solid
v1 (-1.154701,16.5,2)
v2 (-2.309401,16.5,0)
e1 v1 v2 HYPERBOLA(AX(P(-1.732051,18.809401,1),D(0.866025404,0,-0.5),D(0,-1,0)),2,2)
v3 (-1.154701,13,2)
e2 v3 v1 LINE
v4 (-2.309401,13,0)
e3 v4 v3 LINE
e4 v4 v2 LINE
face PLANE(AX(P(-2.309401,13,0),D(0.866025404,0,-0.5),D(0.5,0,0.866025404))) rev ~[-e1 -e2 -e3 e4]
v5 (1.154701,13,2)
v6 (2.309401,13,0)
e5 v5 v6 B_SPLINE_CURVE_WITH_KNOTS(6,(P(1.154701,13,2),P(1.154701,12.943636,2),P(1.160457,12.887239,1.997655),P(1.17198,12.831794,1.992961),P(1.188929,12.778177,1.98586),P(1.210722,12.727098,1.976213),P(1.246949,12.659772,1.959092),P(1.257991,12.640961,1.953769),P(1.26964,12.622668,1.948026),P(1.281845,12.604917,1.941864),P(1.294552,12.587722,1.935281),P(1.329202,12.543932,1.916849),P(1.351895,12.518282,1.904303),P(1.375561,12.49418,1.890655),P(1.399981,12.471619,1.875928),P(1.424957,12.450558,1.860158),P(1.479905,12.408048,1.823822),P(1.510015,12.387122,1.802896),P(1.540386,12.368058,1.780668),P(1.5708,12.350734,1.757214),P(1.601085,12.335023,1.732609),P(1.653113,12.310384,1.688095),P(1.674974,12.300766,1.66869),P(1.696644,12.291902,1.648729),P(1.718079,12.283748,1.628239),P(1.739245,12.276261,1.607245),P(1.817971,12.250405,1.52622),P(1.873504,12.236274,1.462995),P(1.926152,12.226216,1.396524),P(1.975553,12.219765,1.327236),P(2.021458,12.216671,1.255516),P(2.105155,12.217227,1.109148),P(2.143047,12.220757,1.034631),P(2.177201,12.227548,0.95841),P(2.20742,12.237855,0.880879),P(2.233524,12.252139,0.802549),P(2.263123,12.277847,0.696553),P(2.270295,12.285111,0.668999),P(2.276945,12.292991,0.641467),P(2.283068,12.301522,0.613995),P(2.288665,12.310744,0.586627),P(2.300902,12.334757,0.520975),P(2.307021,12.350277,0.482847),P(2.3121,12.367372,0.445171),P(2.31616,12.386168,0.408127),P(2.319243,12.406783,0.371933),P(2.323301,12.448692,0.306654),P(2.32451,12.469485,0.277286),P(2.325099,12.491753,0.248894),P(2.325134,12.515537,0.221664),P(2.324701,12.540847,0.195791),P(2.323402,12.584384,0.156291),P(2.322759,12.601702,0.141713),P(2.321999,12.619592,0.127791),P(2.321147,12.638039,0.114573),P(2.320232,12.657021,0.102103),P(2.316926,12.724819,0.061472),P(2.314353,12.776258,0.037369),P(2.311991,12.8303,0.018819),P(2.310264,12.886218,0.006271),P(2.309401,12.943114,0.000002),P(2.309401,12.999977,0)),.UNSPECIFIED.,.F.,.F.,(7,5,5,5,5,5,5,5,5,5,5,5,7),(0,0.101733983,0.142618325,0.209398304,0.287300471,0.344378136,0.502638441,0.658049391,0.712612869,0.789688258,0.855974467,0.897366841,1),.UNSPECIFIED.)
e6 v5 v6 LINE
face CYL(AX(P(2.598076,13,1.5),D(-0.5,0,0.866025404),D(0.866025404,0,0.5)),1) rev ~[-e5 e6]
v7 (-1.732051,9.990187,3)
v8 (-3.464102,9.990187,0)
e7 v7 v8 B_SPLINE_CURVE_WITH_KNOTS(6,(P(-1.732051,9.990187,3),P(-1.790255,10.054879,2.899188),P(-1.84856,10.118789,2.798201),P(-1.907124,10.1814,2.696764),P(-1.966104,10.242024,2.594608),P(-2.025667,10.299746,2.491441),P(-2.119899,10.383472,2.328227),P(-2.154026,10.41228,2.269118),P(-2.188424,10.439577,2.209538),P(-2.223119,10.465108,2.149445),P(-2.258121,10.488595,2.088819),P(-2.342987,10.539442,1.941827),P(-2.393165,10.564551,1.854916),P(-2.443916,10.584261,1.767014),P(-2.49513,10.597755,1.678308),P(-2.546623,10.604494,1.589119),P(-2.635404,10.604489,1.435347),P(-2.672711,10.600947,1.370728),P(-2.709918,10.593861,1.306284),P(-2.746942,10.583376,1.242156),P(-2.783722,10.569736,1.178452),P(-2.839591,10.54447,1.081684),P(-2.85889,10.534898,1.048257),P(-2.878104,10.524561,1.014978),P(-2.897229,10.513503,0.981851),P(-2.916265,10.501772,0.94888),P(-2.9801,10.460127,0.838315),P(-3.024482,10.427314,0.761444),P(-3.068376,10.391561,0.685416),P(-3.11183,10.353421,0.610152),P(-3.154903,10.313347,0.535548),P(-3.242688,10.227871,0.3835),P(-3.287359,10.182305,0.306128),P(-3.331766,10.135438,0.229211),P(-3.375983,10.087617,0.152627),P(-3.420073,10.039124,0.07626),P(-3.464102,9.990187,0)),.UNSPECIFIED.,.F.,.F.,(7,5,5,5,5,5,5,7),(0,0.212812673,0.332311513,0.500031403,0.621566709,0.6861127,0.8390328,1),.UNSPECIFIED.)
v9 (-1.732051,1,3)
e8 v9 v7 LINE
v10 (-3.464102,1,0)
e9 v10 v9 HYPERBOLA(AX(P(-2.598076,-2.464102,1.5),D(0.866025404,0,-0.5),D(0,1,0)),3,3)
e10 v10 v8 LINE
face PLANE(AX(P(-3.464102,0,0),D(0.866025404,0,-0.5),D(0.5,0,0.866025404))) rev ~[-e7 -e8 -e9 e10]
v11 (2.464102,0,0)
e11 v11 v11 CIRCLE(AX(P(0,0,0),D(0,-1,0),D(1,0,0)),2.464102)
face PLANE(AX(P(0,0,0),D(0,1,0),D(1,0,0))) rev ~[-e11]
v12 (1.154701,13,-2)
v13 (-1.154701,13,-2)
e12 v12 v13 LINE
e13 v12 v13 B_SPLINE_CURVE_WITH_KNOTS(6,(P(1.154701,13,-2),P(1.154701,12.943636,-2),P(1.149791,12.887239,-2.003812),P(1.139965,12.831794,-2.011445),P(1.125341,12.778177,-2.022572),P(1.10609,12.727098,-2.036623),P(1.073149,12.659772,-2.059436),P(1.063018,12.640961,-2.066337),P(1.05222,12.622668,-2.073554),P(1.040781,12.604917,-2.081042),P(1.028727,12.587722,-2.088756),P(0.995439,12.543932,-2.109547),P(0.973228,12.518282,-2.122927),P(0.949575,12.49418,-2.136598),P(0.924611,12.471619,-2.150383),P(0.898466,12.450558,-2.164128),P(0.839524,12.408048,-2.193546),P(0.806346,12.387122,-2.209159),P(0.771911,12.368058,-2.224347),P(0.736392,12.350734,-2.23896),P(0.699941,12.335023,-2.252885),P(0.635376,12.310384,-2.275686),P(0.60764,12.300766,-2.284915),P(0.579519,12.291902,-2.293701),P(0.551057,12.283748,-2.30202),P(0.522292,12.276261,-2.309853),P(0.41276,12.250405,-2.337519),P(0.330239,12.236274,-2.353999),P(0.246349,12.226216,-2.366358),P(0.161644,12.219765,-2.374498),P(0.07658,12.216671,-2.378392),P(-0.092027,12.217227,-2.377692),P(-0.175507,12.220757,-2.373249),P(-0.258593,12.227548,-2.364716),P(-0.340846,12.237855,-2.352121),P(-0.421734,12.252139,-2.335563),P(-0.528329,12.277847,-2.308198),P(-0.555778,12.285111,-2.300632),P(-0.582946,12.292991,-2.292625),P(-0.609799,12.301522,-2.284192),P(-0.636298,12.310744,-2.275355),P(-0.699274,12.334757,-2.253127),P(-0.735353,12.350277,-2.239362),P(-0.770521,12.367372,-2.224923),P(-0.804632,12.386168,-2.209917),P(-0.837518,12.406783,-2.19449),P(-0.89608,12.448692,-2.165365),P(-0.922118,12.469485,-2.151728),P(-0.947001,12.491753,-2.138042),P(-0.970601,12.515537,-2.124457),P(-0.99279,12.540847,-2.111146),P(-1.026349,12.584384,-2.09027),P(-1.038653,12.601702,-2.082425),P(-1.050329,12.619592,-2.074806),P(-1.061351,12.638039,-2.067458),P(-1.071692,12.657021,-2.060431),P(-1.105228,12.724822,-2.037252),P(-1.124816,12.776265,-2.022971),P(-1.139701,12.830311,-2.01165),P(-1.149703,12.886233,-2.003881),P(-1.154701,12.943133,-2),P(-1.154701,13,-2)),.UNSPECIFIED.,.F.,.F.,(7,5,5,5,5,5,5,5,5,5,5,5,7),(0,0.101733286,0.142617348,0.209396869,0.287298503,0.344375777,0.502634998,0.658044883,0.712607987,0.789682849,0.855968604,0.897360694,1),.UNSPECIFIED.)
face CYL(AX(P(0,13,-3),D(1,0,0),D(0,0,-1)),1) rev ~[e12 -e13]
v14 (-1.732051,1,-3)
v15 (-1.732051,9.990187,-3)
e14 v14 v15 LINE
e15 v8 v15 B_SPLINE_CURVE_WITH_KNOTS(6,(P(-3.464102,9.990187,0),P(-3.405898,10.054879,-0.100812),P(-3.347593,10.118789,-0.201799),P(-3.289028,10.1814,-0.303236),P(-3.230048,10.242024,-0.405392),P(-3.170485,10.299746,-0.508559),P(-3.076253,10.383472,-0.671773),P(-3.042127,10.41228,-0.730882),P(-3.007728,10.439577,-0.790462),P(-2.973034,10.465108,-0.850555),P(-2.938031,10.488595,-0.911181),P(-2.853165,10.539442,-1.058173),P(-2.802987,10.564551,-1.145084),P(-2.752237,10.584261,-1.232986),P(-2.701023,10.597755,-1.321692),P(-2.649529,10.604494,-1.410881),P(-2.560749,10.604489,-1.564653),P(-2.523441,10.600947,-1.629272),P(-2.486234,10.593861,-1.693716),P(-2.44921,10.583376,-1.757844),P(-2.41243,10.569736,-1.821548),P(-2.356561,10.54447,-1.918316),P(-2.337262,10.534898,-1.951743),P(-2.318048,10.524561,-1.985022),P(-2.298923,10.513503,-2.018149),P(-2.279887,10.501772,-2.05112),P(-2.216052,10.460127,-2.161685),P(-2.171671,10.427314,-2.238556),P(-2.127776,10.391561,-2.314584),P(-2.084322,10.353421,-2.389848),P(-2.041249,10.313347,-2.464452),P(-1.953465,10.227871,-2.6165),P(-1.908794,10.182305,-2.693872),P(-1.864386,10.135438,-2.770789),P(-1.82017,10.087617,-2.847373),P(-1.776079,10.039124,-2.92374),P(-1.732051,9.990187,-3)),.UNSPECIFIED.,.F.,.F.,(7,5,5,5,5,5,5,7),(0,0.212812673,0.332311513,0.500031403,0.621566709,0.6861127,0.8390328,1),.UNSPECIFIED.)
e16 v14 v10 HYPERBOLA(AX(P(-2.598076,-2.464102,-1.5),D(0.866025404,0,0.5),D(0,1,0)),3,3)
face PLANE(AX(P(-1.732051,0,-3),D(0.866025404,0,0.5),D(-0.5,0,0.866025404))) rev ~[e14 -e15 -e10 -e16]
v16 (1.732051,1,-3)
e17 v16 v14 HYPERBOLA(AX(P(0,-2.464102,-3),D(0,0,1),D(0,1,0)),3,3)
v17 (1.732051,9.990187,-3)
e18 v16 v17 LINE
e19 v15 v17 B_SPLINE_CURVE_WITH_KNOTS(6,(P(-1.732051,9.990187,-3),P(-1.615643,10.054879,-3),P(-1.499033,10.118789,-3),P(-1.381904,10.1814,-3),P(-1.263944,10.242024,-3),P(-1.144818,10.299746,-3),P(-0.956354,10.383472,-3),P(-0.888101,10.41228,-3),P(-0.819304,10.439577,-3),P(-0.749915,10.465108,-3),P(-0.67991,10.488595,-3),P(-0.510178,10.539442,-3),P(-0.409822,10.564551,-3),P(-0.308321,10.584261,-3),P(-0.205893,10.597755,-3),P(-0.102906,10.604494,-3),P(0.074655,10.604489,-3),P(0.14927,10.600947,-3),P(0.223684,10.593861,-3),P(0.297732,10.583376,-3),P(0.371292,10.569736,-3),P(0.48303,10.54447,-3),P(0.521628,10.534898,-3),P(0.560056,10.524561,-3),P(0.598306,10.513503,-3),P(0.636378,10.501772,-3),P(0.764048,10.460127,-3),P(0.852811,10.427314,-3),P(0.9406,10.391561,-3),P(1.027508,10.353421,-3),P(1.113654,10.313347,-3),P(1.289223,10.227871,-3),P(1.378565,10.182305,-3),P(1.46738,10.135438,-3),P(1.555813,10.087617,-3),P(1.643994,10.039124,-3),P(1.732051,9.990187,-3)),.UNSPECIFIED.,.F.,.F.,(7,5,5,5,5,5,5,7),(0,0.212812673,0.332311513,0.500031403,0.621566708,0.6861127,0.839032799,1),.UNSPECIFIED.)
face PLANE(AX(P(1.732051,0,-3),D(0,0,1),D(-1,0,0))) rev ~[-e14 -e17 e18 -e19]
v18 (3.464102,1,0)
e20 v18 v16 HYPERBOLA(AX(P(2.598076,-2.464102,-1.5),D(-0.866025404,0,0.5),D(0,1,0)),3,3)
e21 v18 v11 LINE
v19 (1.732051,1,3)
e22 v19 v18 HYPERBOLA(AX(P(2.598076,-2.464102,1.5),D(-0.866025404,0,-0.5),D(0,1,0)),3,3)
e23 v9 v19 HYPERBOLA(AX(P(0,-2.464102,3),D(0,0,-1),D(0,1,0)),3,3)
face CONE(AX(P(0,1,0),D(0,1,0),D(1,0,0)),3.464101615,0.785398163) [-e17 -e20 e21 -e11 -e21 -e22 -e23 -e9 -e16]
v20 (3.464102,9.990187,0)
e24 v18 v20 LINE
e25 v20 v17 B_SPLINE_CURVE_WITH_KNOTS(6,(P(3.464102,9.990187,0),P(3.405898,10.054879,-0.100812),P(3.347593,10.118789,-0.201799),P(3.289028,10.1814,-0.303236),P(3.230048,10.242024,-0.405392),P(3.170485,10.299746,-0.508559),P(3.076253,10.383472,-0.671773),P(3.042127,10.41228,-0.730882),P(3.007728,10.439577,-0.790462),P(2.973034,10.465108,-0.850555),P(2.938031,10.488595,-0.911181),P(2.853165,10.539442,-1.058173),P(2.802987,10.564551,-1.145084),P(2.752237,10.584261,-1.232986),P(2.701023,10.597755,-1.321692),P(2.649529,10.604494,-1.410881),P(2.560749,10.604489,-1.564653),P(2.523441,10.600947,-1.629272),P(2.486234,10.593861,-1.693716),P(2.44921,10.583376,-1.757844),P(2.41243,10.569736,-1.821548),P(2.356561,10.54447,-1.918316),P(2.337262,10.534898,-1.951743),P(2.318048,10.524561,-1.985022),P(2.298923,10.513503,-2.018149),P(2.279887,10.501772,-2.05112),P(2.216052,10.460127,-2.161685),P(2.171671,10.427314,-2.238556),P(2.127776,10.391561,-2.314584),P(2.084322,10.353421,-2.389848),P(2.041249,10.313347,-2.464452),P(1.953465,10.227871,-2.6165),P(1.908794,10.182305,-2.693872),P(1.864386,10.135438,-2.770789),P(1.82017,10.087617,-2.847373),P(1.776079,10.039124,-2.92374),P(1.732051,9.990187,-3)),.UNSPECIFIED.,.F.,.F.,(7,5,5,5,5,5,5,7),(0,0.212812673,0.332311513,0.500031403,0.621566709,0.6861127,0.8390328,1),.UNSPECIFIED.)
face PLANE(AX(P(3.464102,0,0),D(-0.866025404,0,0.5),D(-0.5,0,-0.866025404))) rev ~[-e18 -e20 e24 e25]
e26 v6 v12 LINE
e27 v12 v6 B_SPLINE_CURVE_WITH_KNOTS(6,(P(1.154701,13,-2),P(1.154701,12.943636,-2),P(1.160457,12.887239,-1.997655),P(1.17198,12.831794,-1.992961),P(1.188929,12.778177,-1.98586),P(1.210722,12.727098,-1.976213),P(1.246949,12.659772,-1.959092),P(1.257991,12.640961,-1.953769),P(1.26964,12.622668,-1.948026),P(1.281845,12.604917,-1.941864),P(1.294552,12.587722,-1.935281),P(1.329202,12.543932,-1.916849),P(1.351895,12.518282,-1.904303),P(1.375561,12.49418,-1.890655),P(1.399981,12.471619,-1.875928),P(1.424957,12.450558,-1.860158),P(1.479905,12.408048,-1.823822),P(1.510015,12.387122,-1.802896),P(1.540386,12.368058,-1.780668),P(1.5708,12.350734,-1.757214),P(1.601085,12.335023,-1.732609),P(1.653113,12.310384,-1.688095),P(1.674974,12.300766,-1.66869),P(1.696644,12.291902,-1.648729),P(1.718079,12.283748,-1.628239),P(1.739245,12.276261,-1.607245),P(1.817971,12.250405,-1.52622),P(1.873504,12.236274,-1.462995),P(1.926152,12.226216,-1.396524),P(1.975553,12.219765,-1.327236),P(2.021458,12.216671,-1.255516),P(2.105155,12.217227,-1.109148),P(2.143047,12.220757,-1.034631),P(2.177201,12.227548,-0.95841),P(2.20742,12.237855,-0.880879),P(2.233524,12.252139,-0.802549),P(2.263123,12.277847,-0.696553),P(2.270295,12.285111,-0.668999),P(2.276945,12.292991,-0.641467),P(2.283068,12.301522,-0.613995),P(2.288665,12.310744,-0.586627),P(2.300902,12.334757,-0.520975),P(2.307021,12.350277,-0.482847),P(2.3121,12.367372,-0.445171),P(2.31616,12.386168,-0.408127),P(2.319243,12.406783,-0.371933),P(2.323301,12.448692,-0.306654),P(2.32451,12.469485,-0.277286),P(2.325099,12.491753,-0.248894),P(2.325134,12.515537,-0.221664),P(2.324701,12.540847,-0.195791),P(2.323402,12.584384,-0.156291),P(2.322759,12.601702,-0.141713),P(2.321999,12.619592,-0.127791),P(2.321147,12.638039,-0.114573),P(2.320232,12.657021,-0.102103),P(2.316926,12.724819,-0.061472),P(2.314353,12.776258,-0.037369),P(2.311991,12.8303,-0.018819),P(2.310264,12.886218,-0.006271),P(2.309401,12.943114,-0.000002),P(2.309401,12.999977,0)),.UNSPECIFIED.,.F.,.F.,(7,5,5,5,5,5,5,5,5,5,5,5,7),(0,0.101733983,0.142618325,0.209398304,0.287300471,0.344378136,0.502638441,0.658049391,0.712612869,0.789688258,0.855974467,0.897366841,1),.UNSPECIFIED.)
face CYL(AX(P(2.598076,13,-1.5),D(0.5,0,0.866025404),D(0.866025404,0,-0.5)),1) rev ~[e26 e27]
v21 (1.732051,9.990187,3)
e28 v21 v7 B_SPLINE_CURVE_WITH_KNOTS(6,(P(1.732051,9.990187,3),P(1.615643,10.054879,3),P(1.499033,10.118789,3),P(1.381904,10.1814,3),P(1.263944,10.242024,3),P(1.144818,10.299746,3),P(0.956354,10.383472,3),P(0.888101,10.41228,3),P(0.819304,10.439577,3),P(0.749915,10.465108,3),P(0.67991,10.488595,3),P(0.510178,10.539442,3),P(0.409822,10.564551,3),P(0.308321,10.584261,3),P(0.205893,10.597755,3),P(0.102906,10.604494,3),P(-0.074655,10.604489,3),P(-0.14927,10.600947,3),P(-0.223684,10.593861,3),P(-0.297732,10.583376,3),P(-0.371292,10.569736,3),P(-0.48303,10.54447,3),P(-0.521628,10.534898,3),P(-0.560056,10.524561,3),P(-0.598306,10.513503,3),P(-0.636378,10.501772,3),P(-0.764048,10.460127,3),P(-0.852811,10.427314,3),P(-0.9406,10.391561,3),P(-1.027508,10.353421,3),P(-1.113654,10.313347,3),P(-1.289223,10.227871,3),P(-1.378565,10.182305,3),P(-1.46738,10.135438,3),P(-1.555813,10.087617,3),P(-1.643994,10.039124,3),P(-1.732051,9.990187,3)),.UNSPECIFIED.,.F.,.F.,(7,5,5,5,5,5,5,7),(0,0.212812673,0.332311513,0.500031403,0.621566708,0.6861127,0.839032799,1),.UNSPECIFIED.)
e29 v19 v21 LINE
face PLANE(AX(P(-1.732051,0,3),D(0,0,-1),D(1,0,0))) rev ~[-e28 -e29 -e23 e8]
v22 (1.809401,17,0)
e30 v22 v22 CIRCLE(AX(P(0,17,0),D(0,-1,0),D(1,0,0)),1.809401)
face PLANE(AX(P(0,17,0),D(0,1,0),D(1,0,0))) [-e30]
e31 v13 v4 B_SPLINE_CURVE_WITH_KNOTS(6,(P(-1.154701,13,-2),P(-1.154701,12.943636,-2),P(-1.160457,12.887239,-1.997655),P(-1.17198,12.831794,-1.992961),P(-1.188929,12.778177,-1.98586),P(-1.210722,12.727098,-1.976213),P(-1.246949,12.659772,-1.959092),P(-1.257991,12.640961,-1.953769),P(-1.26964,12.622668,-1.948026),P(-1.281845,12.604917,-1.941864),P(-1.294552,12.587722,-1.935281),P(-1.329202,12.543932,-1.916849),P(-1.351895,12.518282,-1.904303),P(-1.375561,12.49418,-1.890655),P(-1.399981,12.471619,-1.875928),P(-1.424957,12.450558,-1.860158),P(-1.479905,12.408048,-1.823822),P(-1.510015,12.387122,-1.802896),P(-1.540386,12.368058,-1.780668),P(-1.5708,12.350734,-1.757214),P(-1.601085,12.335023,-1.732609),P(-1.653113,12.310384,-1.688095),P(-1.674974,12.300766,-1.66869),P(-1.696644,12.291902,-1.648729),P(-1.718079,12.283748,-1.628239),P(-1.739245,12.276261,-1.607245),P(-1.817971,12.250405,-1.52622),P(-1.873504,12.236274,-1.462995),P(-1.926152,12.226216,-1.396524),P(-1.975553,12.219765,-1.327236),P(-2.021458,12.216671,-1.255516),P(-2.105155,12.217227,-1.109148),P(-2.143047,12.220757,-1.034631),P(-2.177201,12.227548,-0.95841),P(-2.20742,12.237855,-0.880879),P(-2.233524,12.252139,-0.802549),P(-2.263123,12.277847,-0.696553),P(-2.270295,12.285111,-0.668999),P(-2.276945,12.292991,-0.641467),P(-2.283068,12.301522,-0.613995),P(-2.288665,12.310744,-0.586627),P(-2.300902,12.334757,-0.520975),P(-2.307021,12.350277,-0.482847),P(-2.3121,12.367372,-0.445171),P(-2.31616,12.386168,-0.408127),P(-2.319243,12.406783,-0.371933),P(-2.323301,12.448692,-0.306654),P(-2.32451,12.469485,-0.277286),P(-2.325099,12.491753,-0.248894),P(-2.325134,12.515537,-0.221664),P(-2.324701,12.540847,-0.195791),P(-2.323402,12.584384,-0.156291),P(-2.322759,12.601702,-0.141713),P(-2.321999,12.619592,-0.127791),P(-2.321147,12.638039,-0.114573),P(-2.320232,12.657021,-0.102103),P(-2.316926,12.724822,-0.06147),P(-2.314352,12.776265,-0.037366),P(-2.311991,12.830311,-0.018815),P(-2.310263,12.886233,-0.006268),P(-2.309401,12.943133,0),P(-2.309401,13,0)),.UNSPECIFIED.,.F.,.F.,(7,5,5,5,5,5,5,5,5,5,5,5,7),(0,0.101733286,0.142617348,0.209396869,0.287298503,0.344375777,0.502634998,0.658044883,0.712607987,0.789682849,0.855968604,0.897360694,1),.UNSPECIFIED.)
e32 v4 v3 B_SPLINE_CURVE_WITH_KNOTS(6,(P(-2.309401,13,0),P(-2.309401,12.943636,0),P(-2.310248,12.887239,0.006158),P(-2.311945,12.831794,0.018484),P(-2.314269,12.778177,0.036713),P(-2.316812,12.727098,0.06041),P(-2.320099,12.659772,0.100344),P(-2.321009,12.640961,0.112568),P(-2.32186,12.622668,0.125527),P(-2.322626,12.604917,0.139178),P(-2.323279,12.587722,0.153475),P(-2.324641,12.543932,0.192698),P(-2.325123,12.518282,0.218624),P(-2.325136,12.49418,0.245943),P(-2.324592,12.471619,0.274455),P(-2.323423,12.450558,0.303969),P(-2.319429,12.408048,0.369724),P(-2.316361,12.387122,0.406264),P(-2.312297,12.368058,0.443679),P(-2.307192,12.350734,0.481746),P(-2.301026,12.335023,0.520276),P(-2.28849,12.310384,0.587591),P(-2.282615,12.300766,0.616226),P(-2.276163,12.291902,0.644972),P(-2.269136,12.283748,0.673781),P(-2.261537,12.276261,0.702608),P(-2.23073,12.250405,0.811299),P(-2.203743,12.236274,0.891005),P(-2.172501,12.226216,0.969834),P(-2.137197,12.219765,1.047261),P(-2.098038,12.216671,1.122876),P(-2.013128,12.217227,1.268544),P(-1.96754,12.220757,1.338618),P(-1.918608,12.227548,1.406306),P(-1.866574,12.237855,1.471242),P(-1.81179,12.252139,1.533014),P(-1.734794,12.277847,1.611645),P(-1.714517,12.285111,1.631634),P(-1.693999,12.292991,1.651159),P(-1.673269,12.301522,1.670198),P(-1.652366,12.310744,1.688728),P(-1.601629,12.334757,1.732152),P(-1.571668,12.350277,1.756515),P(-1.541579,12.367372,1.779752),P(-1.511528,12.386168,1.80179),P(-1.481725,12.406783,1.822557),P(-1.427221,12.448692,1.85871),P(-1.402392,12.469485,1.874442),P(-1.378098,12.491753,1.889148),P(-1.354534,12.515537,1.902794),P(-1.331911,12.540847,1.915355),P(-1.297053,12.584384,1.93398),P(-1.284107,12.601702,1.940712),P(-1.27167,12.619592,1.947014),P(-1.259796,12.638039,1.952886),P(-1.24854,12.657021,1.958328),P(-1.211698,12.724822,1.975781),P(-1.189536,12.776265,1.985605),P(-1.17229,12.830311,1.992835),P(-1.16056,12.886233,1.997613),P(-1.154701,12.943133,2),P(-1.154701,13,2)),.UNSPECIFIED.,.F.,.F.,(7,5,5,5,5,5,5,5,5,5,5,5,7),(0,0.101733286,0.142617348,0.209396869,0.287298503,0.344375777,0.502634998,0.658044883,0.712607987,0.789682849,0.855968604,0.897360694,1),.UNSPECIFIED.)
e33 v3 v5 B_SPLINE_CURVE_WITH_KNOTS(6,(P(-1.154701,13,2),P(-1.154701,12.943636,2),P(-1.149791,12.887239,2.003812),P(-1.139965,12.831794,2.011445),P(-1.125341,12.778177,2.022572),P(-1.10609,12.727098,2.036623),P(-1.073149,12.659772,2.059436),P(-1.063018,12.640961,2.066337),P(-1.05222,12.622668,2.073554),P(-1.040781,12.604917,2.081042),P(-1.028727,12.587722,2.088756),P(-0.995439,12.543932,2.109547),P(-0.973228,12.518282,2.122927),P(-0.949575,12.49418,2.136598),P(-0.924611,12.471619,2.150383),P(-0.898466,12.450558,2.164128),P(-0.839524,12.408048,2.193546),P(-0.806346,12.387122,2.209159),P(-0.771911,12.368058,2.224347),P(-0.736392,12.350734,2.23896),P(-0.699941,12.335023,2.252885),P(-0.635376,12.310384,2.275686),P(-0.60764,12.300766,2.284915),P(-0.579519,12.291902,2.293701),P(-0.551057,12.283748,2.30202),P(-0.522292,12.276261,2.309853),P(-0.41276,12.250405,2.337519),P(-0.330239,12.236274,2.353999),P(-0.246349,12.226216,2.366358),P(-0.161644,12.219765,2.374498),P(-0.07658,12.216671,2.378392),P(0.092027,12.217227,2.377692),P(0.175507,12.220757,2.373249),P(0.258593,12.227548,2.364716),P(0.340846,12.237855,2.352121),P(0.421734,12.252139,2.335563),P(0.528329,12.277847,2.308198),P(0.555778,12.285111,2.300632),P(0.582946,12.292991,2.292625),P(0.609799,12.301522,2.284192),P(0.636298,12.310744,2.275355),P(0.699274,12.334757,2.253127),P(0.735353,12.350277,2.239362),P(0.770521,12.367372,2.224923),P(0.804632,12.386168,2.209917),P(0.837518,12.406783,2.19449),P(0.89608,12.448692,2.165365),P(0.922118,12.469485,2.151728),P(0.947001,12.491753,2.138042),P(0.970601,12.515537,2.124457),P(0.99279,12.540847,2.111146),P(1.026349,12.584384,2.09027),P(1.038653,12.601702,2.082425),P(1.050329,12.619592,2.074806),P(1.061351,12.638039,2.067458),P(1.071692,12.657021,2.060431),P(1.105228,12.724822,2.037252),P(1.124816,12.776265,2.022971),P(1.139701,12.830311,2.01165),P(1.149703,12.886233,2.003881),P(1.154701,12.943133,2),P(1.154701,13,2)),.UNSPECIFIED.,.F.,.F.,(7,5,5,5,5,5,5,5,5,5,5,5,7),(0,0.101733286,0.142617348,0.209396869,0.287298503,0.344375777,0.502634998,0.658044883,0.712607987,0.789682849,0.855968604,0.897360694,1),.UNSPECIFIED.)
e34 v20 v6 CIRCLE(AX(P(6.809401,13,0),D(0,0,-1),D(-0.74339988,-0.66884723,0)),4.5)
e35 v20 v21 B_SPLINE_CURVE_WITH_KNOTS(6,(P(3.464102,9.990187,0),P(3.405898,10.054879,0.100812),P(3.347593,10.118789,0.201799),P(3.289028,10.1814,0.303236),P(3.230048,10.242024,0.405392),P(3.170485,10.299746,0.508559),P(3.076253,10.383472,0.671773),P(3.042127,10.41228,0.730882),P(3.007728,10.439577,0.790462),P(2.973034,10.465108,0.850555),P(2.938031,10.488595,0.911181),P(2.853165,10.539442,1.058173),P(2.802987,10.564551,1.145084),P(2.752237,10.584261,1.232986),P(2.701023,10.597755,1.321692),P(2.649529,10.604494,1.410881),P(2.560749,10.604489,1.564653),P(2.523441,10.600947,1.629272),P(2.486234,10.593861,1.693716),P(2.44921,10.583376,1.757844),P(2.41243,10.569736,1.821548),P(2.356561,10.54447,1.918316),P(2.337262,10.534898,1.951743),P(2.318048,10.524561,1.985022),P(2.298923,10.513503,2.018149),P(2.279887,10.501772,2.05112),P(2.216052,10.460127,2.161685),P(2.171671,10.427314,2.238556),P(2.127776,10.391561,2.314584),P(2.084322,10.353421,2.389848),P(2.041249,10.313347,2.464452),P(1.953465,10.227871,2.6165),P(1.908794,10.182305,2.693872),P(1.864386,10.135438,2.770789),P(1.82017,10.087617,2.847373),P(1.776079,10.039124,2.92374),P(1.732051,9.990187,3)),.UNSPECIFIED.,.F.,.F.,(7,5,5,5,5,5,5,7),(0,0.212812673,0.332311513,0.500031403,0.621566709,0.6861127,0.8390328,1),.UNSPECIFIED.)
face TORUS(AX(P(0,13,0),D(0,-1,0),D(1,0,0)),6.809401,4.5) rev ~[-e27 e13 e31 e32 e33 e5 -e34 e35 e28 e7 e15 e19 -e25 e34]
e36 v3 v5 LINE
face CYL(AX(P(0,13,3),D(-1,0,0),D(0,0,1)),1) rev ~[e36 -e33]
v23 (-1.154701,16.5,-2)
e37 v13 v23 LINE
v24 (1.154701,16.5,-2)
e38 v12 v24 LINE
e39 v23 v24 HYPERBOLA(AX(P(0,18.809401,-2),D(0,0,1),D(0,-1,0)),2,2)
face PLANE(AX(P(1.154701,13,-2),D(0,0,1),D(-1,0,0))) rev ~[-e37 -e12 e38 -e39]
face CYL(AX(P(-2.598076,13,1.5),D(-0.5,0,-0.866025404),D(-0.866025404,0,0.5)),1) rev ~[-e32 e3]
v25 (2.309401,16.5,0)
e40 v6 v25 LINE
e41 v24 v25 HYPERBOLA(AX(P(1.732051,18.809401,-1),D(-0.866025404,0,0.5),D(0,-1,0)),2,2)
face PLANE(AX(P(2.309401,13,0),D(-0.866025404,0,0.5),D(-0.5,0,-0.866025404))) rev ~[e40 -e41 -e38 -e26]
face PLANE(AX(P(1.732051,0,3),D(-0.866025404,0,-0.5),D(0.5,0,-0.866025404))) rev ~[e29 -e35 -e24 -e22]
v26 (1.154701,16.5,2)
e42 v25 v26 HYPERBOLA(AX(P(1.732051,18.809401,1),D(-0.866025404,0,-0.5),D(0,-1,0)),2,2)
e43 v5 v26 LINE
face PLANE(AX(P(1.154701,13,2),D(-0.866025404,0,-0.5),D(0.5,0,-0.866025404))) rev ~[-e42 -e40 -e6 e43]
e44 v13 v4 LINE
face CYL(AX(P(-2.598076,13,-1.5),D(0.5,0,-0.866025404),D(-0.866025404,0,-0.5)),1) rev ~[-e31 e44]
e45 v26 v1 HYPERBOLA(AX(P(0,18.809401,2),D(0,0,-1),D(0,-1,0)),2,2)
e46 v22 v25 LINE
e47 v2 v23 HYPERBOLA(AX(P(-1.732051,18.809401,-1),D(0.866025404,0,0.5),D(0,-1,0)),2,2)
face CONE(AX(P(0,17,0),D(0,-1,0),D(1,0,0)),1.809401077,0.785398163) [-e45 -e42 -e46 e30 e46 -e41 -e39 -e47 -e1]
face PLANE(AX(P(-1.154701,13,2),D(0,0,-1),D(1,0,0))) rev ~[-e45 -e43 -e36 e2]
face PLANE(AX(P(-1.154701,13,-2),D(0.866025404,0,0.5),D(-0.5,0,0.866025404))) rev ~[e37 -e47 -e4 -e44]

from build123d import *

# Parameters (mm, degrees)
BOSS_EXTRUDE1_DEPTH = 13
BOSS_EXTRUDE2_DEPTH = 4
SKETCH8_R           = 1
CUT_EXTRUDE1_DEPTH  = 4.464101715
CIRPATTERN1_COUNT   = 6


with BuildPart() as part:
    # Sketch2 → Boss-Extrude1 (new body)
    with BuildSketch(Plane(origin=(0, 0, 0), x_dir=(1, 0, 0), z_dir=(0, 1, 0))):
        Polygon((3.464101615, 0), (1.732050808, 3), (-1.732050808, 3), (-3.464101615, 0), (-1.732050808, -3), (1.732050808, -3), align=None)
    extrude(amount=BOSS_EXTRUDE1_DEPTH)

    # Sketch3 → Boss-Extrude2 (add)
    with BuildSketch(Plane(origin=(0, 13, 0), x_dir=(1, 0, 0), z_dir=(0, 1, 0))):
        Polygon((2.309401077, 0), (1.154700538, 2), (-1.154700538, 2), (-2.309401077, 0), (-1.154700538, -2), (1.154700538, -2), align=None)
    extrude(amount=BOSS_EXTRUDE2_DEPTH)

    # Sketch5 → Cut-Revolve2 (revolve, cut)
    with BuildSketch(Plane.XY):
        Polygon((3.464101615, 1), (2.464101615, 0), (3.464101615, 0), align=None)
        Polygon((1.809401077, 17), (2.309401077, 16.5), (2.309401077, 17), align=None)
        with BuildLine():
            Line((2.309401077, 13), (3.464101615, 13))
            Line((3.464101615, 13), (3.464101615, 9.990187462))
            ThreePointArc((3.464101615, 9.990187462), (2.607981818, 11.388145102), (2.309401077, 13))
        make_face()
    revolve(axis=Axis((0, 17, 0), (0, -1, 0)), mode=Mode.SUBTRACT)

    # Sketch8 → Cut-Extrude1 (cut, symmetric)
    with BuildSketch(Plane(origin=(0, 0, 0), x_dir=(0, 0, -1), z_dir=(1, 0, 0))):
        with Locations((3, 13)):
            Circle(SKETCH8_R)
    cut_extrude1 = extrude(amount=CUT_EXTRUDE1_DEPTH, both=True, mode=Mode.SUBTRACT)

    # CirPattern1: Cut-Extrude1 ×6 about axis
    cirpattern1_axis = Axis((0, 17, 0), (0, 1, 0))
    for i in range(1, CIRPATTERN1_COUNT):
        add(cut_extrude1.rotate(cirpattern1_axis, i * 360 / CIRPATTERN1_COUNT), mode=Mode.SUBTRACT)


solid = part.part
